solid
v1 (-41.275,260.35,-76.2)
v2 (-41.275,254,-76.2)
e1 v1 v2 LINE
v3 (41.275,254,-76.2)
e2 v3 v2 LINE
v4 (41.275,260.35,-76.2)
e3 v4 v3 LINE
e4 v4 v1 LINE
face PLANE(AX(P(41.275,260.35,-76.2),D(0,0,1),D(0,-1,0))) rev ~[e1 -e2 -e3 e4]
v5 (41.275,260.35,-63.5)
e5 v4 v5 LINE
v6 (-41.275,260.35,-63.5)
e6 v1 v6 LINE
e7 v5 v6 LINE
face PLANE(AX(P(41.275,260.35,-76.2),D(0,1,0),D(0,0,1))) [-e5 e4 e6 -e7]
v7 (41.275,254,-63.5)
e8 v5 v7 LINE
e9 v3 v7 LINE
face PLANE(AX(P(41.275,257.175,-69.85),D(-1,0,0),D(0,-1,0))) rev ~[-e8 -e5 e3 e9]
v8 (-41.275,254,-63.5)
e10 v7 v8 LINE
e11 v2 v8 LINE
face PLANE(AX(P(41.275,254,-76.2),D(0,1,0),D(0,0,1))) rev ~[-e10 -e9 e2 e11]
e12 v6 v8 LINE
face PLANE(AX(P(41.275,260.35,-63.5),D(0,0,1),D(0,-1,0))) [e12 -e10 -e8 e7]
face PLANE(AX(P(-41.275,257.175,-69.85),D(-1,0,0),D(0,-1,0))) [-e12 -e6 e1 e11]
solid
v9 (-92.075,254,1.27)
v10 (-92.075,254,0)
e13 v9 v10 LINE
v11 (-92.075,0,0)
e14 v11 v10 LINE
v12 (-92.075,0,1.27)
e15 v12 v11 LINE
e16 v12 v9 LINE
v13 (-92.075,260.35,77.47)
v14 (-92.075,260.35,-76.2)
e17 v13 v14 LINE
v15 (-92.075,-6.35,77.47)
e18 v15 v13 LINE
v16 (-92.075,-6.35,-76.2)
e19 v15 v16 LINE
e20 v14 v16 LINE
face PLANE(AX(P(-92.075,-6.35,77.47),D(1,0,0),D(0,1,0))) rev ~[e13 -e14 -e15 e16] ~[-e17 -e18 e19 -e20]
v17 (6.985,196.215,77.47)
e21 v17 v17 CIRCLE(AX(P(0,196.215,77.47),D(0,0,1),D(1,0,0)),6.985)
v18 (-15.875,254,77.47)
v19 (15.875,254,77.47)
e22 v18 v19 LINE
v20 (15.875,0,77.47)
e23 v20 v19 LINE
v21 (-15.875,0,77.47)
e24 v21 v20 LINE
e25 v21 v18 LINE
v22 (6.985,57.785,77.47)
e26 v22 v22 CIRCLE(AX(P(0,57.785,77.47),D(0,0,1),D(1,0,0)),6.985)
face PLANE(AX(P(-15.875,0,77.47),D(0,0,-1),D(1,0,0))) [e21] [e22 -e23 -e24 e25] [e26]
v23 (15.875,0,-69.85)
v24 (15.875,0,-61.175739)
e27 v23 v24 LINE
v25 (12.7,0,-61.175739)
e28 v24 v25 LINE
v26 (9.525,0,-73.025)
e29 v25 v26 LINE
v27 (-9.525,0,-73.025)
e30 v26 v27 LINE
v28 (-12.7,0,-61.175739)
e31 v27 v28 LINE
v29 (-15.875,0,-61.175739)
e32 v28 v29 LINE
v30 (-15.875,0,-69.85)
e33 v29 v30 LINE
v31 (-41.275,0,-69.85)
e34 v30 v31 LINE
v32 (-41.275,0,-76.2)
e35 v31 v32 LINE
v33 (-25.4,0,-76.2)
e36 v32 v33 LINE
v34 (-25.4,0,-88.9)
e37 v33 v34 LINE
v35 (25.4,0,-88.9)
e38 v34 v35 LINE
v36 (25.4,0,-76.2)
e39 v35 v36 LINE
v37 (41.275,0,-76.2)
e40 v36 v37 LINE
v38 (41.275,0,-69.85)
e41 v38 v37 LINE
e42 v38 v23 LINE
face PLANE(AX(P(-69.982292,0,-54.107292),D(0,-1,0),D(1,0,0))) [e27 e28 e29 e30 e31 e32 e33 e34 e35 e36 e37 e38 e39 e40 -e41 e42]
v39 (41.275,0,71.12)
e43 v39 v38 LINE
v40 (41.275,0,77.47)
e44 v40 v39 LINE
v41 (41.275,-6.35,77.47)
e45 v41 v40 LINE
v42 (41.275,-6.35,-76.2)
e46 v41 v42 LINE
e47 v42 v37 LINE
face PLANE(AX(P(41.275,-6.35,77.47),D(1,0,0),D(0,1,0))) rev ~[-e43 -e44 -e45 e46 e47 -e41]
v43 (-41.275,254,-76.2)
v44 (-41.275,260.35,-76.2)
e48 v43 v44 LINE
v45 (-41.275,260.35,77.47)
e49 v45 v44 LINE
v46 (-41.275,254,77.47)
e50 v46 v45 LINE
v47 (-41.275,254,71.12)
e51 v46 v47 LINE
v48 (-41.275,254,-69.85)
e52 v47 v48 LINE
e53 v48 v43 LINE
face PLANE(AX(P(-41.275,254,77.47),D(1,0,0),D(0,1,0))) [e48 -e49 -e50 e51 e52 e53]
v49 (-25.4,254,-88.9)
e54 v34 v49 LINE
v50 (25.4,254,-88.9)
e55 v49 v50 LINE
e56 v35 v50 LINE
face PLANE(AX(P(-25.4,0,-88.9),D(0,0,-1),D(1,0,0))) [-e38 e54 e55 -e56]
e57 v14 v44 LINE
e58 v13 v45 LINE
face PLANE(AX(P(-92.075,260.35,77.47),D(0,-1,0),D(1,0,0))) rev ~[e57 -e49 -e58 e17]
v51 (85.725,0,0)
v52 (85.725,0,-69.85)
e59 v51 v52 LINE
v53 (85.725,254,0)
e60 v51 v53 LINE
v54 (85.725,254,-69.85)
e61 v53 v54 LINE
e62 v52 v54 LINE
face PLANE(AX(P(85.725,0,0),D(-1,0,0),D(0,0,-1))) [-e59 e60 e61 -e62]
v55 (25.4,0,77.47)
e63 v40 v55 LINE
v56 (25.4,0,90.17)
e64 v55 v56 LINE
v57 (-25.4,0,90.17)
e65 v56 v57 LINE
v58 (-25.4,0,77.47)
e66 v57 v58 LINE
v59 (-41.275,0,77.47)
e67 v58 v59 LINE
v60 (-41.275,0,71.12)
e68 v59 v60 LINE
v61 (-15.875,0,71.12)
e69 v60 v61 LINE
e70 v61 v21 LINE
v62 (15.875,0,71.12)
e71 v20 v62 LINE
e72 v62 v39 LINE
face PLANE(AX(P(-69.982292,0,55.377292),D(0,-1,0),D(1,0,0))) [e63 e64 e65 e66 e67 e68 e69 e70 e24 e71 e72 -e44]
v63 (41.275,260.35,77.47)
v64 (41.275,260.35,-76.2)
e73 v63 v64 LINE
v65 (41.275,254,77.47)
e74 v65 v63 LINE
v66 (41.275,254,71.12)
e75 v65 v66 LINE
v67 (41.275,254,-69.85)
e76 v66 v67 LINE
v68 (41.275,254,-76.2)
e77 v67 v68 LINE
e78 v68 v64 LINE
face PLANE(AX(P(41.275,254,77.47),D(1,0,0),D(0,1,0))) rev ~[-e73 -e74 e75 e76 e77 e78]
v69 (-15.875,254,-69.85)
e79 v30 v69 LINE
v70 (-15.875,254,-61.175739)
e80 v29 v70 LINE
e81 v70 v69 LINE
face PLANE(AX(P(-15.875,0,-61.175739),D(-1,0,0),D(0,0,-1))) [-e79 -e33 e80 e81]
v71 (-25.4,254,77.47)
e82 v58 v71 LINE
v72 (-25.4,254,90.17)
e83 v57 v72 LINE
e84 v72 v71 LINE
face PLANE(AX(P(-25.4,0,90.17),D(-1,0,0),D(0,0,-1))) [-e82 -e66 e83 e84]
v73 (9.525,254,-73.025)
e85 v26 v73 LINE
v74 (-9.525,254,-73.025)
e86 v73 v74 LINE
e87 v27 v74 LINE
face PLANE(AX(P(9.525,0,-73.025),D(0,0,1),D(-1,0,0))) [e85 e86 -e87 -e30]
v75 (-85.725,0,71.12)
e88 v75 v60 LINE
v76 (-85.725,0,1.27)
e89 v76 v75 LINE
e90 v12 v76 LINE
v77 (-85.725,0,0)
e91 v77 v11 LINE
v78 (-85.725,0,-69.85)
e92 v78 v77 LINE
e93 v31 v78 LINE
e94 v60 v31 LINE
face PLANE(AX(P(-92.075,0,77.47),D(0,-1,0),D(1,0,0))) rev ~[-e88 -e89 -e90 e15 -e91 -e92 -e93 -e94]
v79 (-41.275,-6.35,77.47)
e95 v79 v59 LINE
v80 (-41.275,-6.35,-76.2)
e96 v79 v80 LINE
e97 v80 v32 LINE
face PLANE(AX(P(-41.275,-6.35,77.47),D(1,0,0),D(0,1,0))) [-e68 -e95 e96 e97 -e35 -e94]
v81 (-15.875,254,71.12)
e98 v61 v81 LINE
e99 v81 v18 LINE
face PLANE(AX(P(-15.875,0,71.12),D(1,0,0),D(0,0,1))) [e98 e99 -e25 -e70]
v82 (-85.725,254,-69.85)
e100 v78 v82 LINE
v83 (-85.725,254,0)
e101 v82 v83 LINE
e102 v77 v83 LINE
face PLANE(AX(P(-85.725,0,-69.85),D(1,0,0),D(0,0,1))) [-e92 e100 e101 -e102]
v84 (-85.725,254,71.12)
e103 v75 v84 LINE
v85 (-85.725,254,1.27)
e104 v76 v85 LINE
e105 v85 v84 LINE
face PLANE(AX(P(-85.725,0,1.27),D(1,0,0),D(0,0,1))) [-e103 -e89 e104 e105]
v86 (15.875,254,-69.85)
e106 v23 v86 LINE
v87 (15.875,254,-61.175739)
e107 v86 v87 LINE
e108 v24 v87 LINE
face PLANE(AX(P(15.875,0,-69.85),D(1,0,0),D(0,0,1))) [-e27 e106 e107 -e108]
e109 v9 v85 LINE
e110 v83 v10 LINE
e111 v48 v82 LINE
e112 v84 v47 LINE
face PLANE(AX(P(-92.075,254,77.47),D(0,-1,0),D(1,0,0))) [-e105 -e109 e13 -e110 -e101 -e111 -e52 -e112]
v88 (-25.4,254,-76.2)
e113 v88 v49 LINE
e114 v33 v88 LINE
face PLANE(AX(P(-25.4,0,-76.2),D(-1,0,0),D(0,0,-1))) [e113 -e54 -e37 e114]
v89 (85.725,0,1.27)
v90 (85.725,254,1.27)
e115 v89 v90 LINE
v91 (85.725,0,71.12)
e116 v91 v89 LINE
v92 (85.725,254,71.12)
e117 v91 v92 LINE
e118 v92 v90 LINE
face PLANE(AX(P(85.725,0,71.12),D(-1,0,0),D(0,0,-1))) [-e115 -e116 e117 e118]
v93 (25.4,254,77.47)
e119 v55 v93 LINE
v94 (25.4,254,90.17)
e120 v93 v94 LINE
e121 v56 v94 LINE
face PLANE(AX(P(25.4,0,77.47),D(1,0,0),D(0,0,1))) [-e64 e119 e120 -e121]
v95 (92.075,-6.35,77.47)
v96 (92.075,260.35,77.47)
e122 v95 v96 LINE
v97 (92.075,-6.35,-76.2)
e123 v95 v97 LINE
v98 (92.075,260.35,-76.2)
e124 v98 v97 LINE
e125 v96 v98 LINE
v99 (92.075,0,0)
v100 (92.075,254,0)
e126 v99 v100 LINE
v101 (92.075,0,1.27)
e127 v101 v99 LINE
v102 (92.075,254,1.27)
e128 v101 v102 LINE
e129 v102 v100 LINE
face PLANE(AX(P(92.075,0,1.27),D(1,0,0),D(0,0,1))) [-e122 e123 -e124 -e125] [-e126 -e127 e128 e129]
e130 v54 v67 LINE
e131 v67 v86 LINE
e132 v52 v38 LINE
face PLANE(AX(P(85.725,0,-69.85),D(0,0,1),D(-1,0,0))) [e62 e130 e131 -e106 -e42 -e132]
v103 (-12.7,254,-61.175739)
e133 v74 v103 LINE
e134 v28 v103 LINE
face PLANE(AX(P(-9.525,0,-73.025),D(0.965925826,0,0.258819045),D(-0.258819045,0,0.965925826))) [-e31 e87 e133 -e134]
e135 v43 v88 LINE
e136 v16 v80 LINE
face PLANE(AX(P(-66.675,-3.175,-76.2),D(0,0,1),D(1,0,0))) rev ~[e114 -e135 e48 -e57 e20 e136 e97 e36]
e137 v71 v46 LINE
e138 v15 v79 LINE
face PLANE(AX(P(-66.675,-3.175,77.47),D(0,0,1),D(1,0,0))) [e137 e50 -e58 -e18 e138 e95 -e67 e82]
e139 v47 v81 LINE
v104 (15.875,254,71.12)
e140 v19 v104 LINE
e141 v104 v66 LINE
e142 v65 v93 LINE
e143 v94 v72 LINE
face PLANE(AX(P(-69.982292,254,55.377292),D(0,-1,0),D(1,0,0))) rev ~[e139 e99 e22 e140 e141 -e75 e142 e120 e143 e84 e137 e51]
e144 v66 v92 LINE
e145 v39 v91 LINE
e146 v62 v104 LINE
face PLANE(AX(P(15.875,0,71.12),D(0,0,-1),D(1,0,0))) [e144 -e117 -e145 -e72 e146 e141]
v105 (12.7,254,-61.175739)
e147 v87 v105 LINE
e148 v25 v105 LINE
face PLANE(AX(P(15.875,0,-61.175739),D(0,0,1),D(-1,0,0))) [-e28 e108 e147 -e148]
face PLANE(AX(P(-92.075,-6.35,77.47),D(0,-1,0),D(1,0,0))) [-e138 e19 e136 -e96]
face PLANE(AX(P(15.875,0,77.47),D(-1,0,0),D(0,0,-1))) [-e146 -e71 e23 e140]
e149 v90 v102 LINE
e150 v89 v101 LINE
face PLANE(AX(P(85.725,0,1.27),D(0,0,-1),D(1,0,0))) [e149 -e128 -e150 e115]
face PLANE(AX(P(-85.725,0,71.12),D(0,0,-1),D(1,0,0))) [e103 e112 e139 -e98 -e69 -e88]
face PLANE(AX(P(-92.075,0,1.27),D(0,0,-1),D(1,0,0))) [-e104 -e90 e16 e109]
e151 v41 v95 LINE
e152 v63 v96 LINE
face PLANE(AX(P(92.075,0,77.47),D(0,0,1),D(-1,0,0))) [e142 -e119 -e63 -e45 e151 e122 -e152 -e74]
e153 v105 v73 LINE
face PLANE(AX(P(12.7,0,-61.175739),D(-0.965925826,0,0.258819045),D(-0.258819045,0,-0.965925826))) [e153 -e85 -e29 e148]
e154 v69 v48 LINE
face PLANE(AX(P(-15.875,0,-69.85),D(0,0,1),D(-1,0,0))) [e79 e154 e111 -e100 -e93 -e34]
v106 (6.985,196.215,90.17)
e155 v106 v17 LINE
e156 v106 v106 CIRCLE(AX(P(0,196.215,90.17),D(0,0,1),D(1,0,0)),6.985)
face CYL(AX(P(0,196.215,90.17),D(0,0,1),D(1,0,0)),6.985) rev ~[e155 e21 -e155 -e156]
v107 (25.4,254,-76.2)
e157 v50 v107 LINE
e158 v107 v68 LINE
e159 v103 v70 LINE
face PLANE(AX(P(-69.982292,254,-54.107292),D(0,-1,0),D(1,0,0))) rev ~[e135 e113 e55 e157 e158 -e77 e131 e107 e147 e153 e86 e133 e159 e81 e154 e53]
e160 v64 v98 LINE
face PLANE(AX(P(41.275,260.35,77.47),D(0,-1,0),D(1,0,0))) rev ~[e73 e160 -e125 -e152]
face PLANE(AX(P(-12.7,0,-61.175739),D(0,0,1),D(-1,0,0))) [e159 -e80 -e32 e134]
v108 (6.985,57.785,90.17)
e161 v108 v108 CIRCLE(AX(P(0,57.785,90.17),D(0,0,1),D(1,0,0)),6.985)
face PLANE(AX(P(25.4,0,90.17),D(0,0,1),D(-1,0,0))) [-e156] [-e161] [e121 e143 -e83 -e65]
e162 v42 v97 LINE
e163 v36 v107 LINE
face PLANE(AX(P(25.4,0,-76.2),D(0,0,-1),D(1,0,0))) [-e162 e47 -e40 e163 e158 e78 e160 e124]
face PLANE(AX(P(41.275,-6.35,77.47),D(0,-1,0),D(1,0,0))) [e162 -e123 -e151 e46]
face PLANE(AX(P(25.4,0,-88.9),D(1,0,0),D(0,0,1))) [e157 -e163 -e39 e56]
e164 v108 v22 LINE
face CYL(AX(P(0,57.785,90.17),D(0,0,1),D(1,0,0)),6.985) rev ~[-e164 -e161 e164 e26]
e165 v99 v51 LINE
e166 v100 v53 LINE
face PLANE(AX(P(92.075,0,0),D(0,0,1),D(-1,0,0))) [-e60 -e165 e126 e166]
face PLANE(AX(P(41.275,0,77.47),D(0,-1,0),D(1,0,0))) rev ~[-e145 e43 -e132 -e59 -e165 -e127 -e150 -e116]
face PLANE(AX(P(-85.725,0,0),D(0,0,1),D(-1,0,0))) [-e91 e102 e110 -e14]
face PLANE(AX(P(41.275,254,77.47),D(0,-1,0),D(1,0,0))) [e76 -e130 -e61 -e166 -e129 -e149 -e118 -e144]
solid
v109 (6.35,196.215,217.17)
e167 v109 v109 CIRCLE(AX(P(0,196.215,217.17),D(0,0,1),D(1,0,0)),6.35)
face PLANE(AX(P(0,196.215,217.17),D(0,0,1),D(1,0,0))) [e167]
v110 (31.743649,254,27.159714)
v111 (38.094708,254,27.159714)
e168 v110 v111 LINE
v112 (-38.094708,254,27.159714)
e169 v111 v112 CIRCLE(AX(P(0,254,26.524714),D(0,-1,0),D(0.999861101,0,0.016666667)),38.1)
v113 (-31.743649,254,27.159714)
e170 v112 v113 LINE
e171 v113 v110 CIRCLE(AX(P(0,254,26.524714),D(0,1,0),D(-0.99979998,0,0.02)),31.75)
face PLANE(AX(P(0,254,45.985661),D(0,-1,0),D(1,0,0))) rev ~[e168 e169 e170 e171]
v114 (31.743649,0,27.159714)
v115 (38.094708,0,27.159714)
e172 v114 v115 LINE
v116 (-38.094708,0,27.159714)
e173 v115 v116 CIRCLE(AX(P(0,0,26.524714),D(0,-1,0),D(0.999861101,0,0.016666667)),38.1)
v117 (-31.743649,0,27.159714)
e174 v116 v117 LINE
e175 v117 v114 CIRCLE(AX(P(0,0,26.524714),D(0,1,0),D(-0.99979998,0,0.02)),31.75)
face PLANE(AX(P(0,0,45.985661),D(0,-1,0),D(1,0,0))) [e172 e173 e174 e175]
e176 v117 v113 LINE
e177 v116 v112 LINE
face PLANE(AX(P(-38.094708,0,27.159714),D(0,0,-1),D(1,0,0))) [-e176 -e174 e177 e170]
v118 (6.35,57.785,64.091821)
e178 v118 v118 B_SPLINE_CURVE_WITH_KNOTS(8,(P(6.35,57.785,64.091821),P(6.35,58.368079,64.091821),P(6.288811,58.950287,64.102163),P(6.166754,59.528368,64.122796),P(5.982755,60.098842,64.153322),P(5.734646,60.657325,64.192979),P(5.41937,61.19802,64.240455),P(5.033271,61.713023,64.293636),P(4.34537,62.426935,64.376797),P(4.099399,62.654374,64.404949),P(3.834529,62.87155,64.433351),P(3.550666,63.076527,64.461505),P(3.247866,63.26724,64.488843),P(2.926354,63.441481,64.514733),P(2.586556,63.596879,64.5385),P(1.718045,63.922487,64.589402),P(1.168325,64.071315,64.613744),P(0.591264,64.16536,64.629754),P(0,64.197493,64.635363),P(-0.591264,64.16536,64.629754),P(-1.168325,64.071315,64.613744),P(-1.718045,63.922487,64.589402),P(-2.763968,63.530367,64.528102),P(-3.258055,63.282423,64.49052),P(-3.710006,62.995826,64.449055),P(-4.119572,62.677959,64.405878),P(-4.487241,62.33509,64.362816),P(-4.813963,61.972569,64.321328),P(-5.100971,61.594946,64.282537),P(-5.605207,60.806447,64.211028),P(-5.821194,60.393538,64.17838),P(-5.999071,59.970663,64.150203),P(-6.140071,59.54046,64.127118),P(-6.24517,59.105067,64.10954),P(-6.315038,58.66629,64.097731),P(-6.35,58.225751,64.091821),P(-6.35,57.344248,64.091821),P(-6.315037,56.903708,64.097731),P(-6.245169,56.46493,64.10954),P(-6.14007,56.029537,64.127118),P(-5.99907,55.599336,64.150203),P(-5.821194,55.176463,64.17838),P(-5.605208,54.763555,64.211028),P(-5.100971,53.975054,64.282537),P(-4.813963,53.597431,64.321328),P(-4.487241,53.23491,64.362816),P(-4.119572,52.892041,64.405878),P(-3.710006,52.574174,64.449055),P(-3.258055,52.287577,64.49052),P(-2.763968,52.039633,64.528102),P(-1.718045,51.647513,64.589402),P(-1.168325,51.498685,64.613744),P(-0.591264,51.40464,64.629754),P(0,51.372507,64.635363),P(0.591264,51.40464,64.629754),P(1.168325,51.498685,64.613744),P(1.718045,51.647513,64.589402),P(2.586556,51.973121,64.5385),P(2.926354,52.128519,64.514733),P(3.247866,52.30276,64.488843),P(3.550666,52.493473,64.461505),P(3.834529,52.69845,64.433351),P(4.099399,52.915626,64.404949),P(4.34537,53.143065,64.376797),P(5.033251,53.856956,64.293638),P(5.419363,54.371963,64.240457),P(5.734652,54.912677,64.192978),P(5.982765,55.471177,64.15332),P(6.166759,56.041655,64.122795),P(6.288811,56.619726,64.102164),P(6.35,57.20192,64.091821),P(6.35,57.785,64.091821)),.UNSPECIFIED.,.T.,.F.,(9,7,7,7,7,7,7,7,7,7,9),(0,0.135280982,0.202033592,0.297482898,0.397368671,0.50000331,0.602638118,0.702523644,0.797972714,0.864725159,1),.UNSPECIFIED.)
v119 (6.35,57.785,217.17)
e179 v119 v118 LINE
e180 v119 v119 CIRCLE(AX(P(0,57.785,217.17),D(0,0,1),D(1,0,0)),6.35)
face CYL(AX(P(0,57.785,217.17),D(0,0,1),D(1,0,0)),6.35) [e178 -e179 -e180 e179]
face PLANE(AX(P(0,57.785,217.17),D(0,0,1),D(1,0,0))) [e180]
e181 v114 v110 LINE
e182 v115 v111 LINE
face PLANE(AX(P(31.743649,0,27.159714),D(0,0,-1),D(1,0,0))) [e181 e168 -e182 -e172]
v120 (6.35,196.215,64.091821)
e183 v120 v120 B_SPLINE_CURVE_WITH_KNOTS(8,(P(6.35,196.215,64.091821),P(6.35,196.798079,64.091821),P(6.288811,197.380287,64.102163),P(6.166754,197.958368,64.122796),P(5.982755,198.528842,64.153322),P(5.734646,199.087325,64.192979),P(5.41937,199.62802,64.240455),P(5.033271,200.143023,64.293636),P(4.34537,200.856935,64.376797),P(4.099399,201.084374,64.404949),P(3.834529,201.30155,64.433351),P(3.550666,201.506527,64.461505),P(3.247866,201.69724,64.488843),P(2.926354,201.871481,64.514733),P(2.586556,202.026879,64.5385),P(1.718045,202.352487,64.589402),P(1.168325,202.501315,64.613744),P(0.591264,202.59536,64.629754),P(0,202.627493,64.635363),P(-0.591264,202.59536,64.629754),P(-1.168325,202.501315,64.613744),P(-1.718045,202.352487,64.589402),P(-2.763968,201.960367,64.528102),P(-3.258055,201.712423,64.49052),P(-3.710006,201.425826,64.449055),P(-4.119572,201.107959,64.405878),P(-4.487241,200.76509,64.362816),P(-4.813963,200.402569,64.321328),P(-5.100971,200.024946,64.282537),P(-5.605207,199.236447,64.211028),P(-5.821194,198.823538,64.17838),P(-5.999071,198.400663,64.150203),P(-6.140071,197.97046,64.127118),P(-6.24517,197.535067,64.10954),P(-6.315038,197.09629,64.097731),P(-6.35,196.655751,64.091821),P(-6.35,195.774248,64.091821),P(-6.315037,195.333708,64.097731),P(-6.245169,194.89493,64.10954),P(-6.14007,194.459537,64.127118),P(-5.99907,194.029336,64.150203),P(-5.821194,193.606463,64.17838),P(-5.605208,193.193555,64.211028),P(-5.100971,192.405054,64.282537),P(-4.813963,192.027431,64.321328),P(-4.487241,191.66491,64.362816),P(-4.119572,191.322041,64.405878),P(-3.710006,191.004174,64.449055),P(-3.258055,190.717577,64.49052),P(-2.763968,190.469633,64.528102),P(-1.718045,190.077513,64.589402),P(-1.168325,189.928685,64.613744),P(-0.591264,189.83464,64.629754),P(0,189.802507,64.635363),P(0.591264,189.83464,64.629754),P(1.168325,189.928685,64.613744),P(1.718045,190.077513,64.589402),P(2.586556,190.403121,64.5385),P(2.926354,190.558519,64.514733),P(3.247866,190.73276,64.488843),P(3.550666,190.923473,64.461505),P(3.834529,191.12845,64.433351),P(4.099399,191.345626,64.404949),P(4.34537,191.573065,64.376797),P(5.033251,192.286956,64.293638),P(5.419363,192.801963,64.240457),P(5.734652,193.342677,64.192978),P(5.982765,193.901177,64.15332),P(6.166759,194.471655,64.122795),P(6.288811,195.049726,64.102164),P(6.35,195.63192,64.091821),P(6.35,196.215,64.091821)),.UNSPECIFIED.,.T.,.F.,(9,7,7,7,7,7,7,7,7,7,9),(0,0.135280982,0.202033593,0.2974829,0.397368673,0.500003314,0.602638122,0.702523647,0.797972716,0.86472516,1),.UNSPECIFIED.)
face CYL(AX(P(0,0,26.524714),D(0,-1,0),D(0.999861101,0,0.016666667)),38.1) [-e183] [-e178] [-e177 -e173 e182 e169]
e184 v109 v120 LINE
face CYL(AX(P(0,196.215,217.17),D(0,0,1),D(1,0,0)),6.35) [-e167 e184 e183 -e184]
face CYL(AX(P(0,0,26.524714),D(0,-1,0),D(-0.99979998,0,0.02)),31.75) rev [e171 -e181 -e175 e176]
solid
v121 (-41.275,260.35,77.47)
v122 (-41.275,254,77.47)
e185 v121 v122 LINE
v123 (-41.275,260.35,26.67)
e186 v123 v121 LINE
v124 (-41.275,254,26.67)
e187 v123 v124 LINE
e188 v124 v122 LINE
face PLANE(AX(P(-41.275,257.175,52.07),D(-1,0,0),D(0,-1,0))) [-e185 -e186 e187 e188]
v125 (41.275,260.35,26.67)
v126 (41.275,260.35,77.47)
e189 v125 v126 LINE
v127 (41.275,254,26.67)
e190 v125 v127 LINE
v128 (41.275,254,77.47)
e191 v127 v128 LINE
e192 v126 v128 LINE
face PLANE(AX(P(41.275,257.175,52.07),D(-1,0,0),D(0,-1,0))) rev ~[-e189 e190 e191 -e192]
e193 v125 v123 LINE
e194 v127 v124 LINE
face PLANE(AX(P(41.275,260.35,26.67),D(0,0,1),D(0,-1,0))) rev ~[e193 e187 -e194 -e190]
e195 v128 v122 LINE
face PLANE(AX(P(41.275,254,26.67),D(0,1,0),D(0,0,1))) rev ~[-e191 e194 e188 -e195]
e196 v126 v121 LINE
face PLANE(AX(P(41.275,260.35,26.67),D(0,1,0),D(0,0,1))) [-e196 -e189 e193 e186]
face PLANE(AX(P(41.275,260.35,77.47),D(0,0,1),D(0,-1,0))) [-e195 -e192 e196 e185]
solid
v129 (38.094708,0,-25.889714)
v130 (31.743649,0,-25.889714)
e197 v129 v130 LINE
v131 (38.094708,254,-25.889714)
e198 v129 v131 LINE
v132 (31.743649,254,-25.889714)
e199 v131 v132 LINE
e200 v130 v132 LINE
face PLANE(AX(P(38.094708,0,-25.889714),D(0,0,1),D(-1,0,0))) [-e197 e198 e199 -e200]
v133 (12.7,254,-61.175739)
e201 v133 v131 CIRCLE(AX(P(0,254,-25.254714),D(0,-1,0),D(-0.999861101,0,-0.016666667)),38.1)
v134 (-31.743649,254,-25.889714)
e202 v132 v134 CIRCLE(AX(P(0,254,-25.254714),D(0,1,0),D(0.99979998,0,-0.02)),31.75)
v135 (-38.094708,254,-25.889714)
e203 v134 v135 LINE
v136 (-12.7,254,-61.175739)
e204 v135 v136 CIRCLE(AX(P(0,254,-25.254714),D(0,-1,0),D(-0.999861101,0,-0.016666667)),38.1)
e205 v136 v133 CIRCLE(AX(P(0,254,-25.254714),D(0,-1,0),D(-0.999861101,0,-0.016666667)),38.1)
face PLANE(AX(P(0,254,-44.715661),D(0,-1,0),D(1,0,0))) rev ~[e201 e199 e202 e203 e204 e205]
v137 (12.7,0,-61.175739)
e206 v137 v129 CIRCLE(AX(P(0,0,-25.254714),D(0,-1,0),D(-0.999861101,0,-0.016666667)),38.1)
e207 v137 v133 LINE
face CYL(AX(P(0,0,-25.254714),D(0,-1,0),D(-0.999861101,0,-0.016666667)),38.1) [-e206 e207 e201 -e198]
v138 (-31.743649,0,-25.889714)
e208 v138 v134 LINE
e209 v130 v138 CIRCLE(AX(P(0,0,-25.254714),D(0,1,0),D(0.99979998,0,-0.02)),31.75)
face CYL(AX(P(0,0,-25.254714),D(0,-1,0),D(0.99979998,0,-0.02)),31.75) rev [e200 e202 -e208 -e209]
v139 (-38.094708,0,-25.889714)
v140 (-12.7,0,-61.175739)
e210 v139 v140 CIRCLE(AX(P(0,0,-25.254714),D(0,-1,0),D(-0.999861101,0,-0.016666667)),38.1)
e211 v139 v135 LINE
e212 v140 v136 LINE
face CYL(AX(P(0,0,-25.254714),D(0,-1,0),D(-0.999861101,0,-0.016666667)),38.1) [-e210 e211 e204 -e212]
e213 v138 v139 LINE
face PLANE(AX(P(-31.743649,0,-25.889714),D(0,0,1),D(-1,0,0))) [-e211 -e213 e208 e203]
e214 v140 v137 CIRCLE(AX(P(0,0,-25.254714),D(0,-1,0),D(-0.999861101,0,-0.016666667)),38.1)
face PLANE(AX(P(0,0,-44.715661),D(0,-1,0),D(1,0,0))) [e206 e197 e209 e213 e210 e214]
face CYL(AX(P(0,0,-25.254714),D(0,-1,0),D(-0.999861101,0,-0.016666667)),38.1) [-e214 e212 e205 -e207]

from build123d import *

# Parameters (mm, degrees)
F2_DEPTH  = 254
F4_DEPTH  = 254
F5_R      = 6.985
F6_DEPTH  = 12.7
F8_R      = 6.35
F10_W     = 50.8
F10_H     = 6.35
F11_DEPTH = 153.67
F12_W     = 6.35
F12_H     = 12.7
F13_DEPTH = 82.55
F12_H_2   = 50.8


with BuildPart() as f2:
    # F1 (on Front) → F2 (new body)
    with BuildSketch(Plane.XZ):
        Polygon((-85.725, 0), (-92.075, 0), (-92.075, -76.2), (-25.4, -76.2), (-15.875, -76.2), (-15.875, -69.85), (-85.725, -69.85), align=None)
        Polygon((-15.875, -76.2), (-25.4, -76.2), (-25.4, -88.9), (25.4, -88.9), (25.4, -76.2), (15.875, -76.2), align=None)
        Polygon((-15.875, -69.85), (-15.875, -76.2), (15.875, -76.2), (15.875, -69.85), (15.875, -61.175738686), (12.7, -61.175738686), (9.525, -73.025), (-9.525, -73.025), (-12.7, -61.175738686), (-15.875, -61.175738686), align=None)
        Polygon((15.875, -69.85), (15.875, -76.2), (25.4, -76.2), (92.075, -76.2), (92.075, 0), (85.725, 0), (85.725, -69.85), align=None)
    extrude(amount=-F2_DEPTH)

    # F3 (on Front) → F4 (join)
    with BuildSketch(Plane.XZ):
        with BuildLine():
            ThreePointArc((31.7436493649, -25.8897142017), (0, -57.0047142017), (-31.7436493649, -25.8897142017))
            Line((-31.7436493649, -25.8897142017), (-38.0947079658, -25.8897142017))
            ThreePointArc((-38.0947079658, -25.8897142017), (0, -63.3547142017), (38.0947079658, -25.8897142017))
            Line((38.0947079658, -25.8897142017), (31.7436493649, -25.8897142017))
        make_face()
    extrude(amount=-F4_DEPTH)



with BuildPart() as f2b:
    # F1 (on Front) → F2, piece 2 (new body)
    with BuildSketch(Plane.XZ):
        Polygon((-92.075, 1.27), (-85.725, 1.27), (-85.725, 71.12), (-15.875, 71.12), (-15.875, 77.47), (-25.4, 77.47), (-92.075, 77.47), align=None)
        Polygon((-25.4, 90.17), (-25.4, 77.47), (-15.875, 77.47), (15.875, 77.47), (25.4, 77.47), (25.4, 90.17), align=None)
        Polygon((25.4, 77.47), (15.875, 77.47), (15.875, 71.12), (85.725, 71.12), (85.725, 1.27), (92.075, 1.27), (92.075, 77.47), align=None)
    extrude(amount=-F2_DEPTH)

    # F5 (on face) → F6 (cut, through all)
    with BuildSketch(Plane.XY.offset(90.17)):
        with Locations((0, 196.215)):
            Circle(F5_R)
        with Locations((0, 57.785)):
            Circle(F5_R)
    extrude(amount=-F6_DEPTH, mode=Mode.SUBTRACT)


with BuildPart() as f4:
    # F3 (on Front) → F4, piece 2 (new body)
    with BuildSketch(Plane.XZ):
        with BuildLine():
            ThreePointArc((38.0947079658, 27.1597142017), (0, 64.6247142017), (-38.0947079658, 27.1597142017))
            Line((-38.0947079658, 27.1597142017), (-31.7436493649, 27.1597142017))
            ThreePointArc((-31.7436493649, 27.1597142017), (0, 58.2747142017), (31.7436493649, 27.1597142017))
            Line((31.7436493649, 27.1597142017), (38.0947079658, 27.1597142017))
        make_face()
    extrude(amount=-F4_DEPTH)

    # F8 (on offset) → F9 (join, up to the next surface of F4)
    with BuildSketch(Plane.XY.offset(217.17)):
        with Locations((0, 196.215)):
            Circle(F8_R)
        with Locations((0, 57.785)):
            Circle(F8_R)
    extrude(until=Until.NEXT, dir=(0, 0, -1))


with BuildPart() as f2_1:
    add(f2.part)

    add(f2b.part)  # F11 merges F2b
    # F10 (on face) → F11 (join, through all)
    with BuildSketch(Plane.XY.offset(77.47)):
        with Locations((-66.675, -3.175)):
            Rectangle(F10_W, F10_H)
        with Locations((66.675, -3.175)):
            Rectangle(F10_W, F10_H)
        with Locations((-66.675, 257.175)):
            Rectangle(F10_W, F10_H)
        with Locations((66.675, 257.175)):
            Rectangle(F10_W, F10_H)
    extrude(amount=-F11_DEPTH)


with BuildPart() as f13:
    # F12 (on face) → F13 (new body, through all)
    with BuildSketch(Plane(origin=(41.275, 0, 0), x_dir=(0, -1, 0), z_dir=(-1, 0, 0))):
        with Locations((-257.175, -69.85)):
            Rectangle(F12_W, F12_H)
    extrude(amount=F13_DEPTH)


with BuildPart() as f13b:
    # F12 (on face) → F13, piece 2 (new body, through all)
    with BuildSketch(Plane(origin=(41.275, 0, 0), x_dir=(0, -1, 0), z_dir=(-1, 0, 0))):
        with Locations((-257.175, 52.07)):
            Rectangle(F12_W, F12_H_2)
    extrude(amount=F13_DEPTH)


solid = Compound([f4.part, f2_1.part, f13.part, f13b.part])
